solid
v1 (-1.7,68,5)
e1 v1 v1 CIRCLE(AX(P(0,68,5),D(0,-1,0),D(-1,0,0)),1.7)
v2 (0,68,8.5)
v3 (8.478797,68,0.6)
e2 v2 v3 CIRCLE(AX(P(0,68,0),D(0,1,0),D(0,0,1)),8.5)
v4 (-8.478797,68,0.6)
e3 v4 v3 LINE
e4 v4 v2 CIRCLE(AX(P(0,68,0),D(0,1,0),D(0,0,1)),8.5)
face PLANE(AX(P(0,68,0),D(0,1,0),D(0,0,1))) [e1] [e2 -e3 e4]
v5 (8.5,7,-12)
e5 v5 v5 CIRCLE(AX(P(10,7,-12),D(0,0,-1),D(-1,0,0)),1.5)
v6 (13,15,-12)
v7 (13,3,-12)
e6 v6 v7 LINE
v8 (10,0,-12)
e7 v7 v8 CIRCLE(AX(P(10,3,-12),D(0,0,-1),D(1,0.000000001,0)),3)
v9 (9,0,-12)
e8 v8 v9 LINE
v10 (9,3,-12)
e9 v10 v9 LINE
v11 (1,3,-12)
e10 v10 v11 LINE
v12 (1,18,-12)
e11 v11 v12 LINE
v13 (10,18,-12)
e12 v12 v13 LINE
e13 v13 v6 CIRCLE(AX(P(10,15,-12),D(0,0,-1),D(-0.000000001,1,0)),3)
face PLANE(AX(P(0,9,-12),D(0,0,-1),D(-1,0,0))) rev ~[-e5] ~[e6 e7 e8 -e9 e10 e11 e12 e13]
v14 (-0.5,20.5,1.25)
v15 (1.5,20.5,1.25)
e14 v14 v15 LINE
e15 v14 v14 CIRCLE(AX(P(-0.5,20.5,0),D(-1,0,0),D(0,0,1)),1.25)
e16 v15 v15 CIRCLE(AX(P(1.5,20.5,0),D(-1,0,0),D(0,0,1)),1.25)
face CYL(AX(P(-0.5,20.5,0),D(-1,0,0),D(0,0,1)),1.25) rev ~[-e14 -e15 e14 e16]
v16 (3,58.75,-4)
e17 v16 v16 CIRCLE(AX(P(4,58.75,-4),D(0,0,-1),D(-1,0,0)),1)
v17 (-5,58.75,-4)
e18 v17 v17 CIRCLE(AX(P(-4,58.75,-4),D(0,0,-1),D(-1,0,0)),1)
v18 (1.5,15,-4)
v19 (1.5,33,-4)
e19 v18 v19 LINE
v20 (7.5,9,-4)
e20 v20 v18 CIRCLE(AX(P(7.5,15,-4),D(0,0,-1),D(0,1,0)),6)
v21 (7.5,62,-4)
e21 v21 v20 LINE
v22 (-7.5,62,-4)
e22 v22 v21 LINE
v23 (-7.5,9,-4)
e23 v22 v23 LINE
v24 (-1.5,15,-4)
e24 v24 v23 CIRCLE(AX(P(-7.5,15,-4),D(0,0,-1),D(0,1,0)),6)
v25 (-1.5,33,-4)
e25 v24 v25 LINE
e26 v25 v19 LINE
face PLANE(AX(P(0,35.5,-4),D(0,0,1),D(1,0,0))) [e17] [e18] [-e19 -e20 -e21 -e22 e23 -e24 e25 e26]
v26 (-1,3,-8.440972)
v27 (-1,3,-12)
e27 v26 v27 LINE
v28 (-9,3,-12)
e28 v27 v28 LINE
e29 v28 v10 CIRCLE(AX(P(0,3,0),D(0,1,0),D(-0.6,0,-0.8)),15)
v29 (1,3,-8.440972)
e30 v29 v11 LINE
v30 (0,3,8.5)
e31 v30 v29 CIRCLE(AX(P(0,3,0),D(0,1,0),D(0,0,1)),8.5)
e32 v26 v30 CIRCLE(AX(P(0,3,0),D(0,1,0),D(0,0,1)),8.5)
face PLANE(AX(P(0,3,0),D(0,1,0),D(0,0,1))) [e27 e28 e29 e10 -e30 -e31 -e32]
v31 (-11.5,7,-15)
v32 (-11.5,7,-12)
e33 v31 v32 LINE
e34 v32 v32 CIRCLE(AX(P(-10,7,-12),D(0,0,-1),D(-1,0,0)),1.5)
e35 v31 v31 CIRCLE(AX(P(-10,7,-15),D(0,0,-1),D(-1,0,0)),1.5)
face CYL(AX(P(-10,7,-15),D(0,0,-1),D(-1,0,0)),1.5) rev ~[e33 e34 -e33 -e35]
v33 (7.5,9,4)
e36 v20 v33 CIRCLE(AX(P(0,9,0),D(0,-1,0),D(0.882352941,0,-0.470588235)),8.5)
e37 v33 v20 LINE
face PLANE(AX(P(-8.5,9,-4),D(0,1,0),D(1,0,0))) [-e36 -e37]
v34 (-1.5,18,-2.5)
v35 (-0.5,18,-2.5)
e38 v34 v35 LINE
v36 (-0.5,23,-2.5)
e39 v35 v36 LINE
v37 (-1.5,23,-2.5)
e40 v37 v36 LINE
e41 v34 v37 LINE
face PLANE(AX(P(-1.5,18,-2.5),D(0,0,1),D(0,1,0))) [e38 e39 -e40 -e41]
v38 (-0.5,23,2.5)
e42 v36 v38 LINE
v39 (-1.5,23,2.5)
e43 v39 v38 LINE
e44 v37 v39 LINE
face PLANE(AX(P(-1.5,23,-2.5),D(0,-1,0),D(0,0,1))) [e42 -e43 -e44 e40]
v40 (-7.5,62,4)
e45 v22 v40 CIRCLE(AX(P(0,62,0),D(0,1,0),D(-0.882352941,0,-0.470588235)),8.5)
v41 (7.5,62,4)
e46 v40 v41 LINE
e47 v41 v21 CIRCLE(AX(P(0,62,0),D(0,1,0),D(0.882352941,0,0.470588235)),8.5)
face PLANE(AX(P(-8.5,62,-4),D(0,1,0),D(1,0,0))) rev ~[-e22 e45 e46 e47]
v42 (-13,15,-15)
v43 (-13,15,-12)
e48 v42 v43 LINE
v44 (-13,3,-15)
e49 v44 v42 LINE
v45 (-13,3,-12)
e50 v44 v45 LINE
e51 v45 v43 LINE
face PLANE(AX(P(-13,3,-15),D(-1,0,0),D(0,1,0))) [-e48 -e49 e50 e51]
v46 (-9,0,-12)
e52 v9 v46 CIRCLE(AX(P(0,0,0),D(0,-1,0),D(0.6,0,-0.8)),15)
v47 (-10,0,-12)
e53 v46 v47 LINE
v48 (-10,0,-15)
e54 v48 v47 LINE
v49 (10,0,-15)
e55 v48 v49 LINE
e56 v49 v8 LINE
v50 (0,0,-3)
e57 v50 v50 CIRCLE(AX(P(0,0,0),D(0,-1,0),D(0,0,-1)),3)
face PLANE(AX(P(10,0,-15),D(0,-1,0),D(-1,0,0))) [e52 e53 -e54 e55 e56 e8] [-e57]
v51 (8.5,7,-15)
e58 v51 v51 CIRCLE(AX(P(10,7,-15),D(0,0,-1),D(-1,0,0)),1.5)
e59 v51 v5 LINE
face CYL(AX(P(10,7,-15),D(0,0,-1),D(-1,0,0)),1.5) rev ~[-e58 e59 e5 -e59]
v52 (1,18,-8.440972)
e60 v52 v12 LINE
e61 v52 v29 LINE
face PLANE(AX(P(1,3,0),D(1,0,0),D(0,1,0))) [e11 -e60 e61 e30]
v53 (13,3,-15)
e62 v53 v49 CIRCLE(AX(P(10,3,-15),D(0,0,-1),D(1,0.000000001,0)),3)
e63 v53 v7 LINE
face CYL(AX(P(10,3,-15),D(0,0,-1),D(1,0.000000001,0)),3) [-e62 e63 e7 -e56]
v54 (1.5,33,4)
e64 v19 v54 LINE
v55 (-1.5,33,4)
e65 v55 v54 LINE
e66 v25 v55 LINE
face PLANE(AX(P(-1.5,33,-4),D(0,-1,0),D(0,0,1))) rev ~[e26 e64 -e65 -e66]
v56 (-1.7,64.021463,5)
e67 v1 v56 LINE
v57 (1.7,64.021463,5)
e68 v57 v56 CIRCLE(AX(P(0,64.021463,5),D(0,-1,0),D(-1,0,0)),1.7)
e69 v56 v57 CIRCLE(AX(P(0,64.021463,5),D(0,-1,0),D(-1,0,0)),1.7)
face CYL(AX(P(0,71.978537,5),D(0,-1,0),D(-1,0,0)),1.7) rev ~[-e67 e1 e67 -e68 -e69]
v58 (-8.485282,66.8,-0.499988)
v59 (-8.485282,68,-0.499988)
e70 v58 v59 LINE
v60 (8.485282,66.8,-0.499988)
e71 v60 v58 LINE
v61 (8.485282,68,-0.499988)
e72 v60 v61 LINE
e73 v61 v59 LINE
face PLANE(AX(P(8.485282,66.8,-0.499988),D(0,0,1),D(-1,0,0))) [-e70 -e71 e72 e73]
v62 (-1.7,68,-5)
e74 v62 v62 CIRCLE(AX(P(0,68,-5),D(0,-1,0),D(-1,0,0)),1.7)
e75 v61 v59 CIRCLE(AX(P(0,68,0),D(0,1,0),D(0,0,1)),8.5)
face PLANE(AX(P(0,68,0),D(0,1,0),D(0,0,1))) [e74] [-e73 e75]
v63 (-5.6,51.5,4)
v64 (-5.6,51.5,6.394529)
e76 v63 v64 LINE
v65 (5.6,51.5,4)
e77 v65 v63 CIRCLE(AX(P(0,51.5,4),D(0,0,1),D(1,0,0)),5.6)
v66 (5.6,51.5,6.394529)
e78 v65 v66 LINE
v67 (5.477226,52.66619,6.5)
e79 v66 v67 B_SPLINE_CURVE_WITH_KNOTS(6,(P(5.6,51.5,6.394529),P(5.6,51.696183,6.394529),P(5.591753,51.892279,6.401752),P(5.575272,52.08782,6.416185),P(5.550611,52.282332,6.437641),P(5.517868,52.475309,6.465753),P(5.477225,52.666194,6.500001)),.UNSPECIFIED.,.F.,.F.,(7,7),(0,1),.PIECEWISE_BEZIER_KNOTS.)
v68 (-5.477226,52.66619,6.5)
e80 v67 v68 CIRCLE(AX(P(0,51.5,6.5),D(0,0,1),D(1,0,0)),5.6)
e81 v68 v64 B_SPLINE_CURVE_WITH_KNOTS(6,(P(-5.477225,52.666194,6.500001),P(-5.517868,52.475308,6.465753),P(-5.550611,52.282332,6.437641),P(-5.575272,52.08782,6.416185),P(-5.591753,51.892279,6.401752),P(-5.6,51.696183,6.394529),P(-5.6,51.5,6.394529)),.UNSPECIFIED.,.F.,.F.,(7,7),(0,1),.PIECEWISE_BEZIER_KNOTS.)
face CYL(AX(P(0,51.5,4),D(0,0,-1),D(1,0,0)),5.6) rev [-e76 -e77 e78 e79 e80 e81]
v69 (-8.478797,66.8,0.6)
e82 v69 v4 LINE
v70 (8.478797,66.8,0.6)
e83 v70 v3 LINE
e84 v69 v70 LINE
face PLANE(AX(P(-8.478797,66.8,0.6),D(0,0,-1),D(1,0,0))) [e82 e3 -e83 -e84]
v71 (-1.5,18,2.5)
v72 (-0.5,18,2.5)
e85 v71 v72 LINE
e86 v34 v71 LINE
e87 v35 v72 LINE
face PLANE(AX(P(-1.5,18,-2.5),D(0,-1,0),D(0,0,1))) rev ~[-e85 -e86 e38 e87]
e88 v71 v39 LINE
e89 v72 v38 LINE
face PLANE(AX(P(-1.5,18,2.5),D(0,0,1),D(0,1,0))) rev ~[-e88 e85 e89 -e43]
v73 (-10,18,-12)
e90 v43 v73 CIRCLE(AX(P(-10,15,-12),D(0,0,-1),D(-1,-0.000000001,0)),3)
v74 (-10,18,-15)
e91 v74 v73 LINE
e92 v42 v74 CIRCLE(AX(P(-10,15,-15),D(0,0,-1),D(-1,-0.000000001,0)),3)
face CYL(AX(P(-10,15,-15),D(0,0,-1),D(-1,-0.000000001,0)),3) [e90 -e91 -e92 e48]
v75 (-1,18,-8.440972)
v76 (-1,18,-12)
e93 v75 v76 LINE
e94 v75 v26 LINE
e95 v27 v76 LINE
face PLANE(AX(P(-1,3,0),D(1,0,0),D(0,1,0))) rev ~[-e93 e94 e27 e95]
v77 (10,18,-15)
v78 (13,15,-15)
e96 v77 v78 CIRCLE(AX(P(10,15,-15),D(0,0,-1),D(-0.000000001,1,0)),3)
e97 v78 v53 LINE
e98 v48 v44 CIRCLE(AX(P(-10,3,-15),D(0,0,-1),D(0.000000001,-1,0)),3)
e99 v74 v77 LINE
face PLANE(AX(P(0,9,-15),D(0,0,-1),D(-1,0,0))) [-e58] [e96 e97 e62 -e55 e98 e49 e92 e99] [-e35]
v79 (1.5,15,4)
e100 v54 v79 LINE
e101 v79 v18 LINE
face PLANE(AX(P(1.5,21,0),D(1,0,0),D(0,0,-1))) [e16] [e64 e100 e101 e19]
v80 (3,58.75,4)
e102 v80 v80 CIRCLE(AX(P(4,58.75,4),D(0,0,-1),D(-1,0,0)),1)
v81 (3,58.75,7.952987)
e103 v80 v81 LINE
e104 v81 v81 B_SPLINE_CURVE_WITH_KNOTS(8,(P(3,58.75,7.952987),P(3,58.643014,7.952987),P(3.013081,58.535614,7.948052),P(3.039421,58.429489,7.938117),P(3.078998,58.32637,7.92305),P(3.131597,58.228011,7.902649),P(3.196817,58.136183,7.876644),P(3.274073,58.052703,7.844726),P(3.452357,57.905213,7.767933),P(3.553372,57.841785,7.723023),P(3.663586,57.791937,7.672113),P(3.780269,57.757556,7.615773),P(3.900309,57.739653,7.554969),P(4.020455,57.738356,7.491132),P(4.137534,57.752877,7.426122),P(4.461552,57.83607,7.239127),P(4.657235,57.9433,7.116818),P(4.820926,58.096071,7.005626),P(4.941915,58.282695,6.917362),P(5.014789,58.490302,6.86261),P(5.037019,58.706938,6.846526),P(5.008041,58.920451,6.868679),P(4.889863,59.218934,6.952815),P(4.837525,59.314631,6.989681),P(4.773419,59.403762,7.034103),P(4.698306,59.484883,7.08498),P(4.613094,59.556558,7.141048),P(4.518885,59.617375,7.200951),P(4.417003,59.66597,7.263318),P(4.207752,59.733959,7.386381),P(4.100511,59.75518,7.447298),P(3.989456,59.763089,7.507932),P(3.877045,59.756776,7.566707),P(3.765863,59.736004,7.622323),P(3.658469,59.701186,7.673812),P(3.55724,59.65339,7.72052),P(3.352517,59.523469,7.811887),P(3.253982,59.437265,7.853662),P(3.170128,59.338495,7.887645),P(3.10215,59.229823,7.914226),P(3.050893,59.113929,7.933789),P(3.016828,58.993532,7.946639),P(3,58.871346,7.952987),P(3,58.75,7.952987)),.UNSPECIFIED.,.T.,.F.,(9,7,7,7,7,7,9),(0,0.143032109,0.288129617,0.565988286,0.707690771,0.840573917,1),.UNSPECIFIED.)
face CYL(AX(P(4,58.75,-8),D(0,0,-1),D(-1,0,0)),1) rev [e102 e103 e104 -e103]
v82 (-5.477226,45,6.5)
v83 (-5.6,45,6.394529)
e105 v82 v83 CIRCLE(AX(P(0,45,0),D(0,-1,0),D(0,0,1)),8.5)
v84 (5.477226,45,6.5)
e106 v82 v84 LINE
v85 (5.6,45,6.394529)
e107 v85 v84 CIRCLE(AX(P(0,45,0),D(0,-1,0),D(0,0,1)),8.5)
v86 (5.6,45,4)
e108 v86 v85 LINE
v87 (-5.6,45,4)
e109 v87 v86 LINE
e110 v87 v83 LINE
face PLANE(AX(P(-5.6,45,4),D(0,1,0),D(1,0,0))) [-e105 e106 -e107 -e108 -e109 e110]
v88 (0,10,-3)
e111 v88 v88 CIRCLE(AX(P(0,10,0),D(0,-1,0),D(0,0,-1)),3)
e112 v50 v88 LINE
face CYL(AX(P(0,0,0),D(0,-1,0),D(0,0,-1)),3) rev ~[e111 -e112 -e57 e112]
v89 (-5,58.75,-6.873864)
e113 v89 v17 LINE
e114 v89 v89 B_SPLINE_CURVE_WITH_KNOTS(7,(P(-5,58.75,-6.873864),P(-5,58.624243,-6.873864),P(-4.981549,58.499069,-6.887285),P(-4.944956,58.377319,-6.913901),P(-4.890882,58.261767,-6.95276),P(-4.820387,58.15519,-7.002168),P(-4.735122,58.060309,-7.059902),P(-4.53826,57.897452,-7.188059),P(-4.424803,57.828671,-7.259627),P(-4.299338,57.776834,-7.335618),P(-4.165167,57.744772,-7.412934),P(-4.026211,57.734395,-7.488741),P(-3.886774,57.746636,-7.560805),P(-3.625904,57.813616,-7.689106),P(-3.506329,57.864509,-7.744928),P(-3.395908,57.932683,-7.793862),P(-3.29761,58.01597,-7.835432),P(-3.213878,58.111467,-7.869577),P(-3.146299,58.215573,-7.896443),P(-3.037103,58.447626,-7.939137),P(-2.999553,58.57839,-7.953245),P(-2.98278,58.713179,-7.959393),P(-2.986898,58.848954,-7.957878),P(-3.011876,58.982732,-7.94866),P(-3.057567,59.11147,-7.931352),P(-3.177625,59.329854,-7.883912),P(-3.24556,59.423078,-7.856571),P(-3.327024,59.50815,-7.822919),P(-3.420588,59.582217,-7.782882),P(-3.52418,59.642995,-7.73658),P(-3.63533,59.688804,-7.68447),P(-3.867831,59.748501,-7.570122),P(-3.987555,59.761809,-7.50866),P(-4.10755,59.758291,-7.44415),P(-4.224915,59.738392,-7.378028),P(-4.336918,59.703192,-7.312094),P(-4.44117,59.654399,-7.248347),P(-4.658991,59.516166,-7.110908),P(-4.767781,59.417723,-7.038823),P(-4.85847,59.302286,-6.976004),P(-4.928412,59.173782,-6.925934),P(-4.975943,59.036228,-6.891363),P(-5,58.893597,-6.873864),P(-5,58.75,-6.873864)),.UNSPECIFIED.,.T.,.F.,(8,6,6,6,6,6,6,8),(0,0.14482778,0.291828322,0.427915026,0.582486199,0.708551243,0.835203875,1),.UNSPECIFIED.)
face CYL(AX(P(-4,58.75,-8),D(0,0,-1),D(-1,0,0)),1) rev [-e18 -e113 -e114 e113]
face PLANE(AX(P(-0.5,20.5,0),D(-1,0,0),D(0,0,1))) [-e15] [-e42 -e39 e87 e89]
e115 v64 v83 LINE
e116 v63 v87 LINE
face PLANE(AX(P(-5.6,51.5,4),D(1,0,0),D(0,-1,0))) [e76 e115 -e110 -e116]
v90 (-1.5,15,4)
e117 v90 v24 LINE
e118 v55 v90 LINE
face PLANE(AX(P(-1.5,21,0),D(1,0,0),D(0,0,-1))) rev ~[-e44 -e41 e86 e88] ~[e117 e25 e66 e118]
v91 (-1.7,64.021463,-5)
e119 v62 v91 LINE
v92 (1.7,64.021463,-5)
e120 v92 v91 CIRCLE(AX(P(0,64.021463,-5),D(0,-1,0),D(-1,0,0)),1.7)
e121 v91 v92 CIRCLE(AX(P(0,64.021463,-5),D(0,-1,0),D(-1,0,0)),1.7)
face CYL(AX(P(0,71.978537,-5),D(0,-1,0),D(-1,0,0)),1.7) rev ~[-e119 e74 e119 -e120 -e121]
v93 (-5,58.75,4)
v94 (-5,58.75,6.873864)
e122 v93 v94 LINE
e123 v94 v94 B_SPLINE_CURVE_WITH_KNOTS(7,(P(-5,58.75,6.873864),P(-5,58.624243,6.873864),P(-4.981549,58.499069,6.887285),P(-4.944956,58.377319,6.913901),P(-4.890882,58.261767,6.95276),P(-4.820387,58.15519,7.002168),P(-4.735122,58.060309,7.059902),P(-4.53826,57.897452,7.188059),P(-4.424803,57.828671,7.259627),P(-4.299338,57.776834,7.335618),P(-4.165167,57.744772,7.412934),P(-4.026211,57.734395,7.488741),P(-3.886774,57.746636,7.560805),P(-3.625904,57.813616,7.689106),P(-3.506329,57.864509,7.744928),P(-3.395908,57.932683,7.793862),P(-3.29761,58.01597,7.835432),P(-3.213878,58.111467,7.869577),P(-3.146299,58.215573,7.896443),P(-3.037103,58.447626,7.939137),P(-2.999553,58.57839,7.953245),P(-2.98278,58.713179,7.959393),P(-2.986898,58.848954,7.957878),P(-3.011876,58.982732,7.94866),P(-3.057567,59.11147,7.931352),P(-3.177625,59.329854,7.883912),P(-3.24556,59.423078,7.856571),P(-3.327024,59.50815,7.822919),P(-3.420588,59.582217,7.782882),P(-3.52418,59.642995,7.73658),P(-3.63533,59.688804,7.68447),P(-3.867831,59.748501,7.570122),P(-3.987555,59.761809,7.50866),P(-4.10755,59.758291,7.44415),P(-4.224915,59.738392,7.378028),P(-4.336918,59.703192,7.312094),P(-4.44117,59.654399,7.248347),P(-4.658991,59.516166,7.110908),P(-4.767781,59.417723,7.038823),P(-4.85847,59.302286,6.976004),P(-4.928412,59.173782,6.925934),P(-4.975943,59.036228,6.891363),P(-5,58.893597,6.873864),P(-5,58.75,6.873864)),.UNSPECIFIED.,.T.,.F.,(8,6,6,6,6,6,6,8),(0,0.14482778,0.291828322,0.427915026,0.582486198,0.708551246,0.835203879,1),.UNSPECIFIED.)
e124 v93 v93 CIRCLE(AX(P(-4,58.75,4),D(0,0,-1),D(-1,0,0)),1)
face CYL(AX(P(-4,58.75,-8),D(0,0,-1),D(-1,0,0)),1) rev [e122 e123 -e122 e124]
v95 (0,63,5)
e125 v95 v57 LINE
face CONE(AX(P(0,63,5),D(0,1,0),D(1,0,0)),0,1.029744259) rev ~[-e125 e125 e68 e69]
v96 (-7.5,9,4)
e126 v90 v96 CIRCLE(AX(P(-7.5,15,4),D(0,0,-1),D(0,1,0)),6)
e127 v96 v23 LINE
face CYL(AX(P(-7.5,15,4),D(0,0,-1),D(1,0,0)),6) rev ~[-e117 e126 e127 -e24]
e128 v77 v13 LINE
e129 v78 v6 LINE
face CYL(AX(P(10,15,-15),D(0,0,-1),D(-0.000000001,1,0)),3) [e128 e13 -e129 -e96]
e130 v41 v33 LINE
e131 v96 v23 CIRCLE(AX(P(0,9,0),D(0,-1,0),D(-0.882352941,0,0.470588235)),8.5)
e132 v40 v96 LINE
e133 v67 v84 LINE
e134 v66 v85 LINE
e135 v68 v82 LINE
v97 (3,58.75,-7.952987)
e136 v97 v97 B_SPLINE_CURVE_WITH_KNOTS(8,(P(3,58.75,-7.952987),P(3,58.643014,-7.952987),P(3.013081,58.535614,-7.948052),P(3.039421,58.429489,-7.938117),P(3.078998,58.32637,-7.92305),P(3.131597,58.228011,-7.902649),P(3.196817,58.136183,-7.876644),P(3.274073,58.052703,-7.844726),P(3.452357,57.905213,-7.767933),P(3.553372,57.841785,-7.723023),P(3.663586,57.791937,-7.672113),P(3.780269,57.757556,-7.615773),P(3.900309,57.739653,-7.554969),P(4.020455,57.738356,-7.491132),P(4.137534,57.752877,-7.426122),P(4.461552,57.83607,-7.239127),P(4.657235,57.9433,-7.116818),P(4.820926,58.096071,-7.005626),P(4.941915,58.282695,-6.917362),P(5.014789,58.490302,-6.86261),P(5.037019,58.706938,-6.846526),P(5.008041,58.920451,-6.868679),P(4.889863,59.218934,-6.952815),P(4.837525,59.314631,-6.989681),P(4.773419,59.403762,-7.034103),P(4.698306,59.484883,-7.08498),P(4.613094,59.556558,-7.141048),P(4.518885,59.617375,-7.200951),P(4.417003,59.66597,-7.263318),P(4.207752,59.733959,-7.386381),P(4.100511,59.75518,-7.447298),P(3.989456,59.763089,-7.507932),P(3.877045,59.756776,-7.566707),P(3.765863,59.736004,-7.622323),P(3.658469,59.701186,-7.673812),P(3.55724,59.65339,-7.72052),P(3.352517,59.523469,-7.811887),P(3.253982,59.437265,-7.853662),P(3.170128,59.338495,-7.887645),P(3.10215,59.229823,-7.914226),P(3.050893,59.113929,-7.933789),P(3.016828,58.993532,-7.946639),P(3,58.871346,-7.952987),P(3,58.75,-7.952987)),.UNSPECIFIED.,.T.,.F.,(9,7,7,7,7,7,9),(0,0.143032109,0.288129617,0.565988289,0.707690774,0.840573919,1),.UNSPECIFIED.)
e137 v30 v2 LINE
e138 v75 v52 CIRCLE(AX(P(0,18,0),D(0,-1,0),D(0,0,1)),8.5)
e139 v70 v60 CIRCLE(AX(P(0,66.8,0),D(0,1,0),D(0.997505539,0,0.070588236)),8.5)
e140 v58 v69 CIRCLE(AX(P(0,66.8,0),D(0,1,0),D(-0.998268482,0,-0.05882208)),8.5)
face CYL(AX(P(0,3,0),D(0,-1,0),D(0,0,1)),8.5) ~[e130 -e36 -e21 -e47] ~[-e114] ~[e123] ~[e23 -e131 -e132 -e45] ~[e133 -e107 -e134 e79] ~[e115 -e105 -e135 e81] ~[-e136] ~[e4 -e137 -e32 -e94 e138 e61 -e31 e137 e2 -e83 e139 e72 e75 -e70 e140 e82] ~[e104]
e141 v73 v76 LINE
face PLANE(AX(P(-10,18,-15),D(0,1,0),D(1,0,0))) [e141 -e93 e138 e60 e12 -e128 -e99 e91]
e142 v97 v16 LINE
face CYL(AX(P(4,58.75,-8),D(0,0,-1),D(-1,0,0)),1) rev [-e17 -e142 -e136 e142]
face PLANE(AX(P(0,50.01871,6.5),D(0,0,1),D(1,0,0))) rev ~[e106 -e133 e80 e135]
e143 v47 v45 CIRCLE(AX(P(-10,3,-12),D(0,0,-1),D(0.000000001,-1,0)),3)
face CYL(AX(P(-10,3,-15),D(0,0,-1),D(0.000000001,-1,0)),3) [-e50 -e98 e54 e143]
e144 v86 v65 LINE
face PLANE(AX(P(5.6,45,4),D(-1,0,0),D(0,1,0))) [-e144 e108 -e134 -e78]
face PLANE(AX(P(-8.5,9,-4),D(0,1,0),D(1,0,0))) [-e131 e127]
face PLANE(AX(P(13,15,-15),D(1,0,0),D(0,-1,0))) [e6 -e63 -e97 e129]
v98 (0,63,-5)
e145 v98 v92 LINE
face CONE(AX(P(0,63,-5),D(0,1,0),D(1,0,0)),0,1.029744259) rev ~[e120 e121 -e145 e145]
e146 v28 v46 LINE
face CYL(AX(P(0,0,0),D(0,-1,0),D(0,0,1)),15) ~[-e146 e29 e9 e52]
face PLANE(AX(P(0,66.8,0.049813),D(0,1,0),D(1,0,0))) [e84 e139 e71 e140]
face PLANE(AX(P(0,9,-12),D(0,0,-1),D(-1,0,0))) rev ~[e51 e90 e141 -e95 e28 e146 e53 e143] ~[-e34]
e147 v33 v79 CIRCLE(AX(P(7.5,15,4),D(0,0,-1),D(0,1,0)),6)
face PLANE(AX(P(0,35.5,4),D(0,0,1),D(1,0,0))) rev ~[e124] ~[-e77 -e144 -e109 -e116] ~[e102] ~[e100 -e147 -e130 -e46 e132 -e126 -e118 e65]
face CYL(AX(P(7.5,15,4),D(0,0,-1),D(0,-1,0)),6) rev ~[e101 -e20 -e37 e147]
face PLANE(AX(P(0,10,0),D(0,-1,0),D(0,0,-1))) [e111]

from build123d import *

# Parameters (mm, degrees)
CROQUIS1_R                   = 15
SALIENTE_EXTRUIR1_DEPTH      = 3
CROQUIS2_R                   = 8.5
SALIENTE_EXTRUIR2_DEPTH      = 65
CORTAR_EXTRUIR1_DEPTH        = 4
CORTAR_EXTRUIR1_DEPTH_BACK   = 4
CROQUIS3_W                   = 17
CROQUIS3_H                   = 53
CORTAR_EXTRUIR2_DEPTH        = 8
CORTAR_EXTRUIR2_DEPTH_BACK   = 8
CROQUIS4_R                   = 1
CUT_EXTRUDE9_DEPTH           = 2.5
CROQUIS5_W                   = 2
CROQUIS5_H                   = 15
SALIENTE_EXTRUIR3_DEPTH      = 15
CROQUIS6_R                   = 1.5
SALIENTE_EXTRUIR4_DEPTH      = 3
SALIENTE_EXTRUIR5_DEPTH      = 1.5
SALIENTE_EXTRUIR5_DEPTH_BACK = 1.5
REDONDEO2_R                  = 6
CROQUIS8_R                   = 3
CORTAR_EXTRUIR3_DEPTH        = 10
SKETCH1_W                    = 5
SKETCH1_H                    = 5
CUT_EXTRUDE1_DEPTH           = 1
SKETCH2_R                    = 1.25
CUT_EXTRUDE2_DEPTH           = 3
CUT_EXTRUDE10_START          = -1.2
CUT_EXTRUDE10_DEPTH          = 1.2
M3_CLEARANCE_HOLE1_D         = 3.4
M3_CLEARANCE_HOLE1_DEPTH     = 3.978536948
M3_CLEARANCE_HOLE1_TIP       = 1.021463052


with BuildPart() as part:
    # Croquis1 → Saliente-Extruir1 (new body)
    with BuildSketch(Plane(origin=(0, 0, 0), x_dir=(1, 0, 0), z_dir=(0, 1, 0))):
        Circle(CROQUIS1_R)
    extrude(amount=SALIENTE_EXTRUIR1_DEPTH)

    # Croquis2 → Saliente-Extruir2 (add)
    with BuildSketch(Plane(origin=(0, 3, 0), x_dir=(1, 0, 0), z_dir=(0, 1, 0))):
        Circle(CROQUIS2_R)
    extrude(amount=SALIENTE_EXTRUIR2_DEPTH)

    # Croquis3 → Cortar-Extruir1 (cut, two sides: drawn at the far end of the back side and taken through both)
    with BuildSketch(Plane.XY.offset(-CORTAR_EXTRUIR1_DEPTH_BACK)):
        with Locations((0, 35.5)):
            Rectangle(CROQUIS3_W, CROQUIS3_H)
    extrude(amount=CORTAR_EXTRUIR1_DEPTH + CORTAR_EXTRUIR1_DEPTH_BACK, mode=Mode.SUBTRACT)

    # Croquis4 → Cortar-Extruir2 (cut, two sides: drawn at the far end of the back side and taken through both)
    with BuildSketch(Plane.XY.offset(-CORTAR_EXTRUIR2_DEPTH_BACK)):
        with Locations((-4, 58.75)):
            Circle(CROQUIS4_R)
        with Locations((4, 58.75)):
            Circle(CROQUIS4_R)
    extrude(amount=CORTAR_EXTRUIR2_DEPTH + CORTAR_EXTRUIR2_DEPTH_BACK, mode=Mode.SUBTRACT)

    # Sketch11 → Cut-Extrude9 (cut)
    with BuildSketch(Plane(origin=(0, 0, 4), x_dir=(-1, 0, 0), z_dir=(0, 0, -1))):
        with BuildLine():
            Line((5.6, 51.5), (5.6, 45))
            Line((5.6, 45), (-5.6, 45))
            Line((-5.6, 45), (-5.6, 51.5))
            ThreePointArc((-5.6, 51.5), (0, 57.1), (5.6, 51.5))
        make_face()
    extrude(amount=-CUT_EXTRUDE9_DEPTH, mode=Mode.SUBTRACT)

    # Croquis5 → Saliente-Extruir3 (add)
    with BuildSketch(Plane.XY):
        with Locations((0, 10.5)):
            Rectangle(CROQUIS5_W, CROQUIS5_H)
    extrude(amount=-SALIENTE_EXTRUIR3_DEPTH)

    # Croquis6 → Saliente-Extruir4 (add)
    with BuildSketch(Plane(origin=(0, 0, -15), x_dir=(-1, 0, 0), z_dir=(0, 0, -1))):
        with BuildLine():
            Line((-10, 0), (10, 0))
            ThreePointArc((10, 0), (12.121320344, 0.878679656), (13, 3))
            Line((13, 3), (13, 15))
            ThreePointArc((13, 15), (12.121320344, 17.121320344), (10, 18))
            Line((10, 18), (-10, 18))
            ThreePointArc((-10, 18), (-12.121320344, 17.121320344), (-13, 15))
            Line((-13, 15), (-13, 3))
            ThreePointArc((-13, 3), (-12.121320344, 0.878679656), (-10, 0))
        make_face()
        with Locations((-10, 7)):
            Circle(CROQUIS6_R, mode=Mode.SUBTRACT)
        with Locations((10, 7)):
            Circle(CROQUIS6_R, mode=Mode.SUBTRACT)
    extrude(amount=-SALIENTE_EXTRUIR4_DEPTH)

    # Croquis7 → Saliente-Extruir5 (add, two sides: drawn at the far end of the back side and taken through both)
    with BuildSketch(Plane(origin=(0, 0, 0), x_dir=(0, 0, -1), z_dir=(1, 0, 0)).offset(-SALIENTE_EXTRUIR5_DEPTH_BACK)):
        Polygon((0, 9), (4, 9), (4, 33), (-4, 33), (-4, 9), align=None)
    extrude(amount=SALIENTE_EXTRUIR5_DEPTH + SALIENTE_EXTRUIR5_DEPTH_BACK)

    # Redondeo2
    redondeo2_edges = [part.edges().sort_by_distance(p)[0] for p in [
        (-1.5, 9, 0),
        (1.5, 9, 0),
    ]]
    fillet(redondeo2_edges, radius=REDONDEO2_R)

    # Croquis8 → Cortar-Extruir3 (cut)
    with BuildSketch(Plane.XZ):
        Circle(CROQUIS8_R)
    extrude(amount=-CORTAR_EXTRUIR3_DEPTH, mode=Mode.SUBTRACT)

    # Sketch1 → Cut-Extrude1 (cut)
    with BuildSketch(Plane.ZY.offset(1.5)):
        with Locations((0, 20.5)):
            Rectangle(SKETCH1_W, SKETCH1_H)
    extrude(amount=-CUT_EXTRUDE1_DEPTH, mode=Mode.SUBTRACT)

    # Sketch2 → Cut-Extrude2 (cut)
    with BuildSketch(Plane.ZY.offset(0.5)):
        with Locations((0, 20.5)):
            Circle(SKETCH2_R)
    extrude(amount=-CUT_EXTRUDE2_DEPTH, mode=Mode.SUBTRACT)

    # Sketch12 → Cut-Extrude10 (cut)
    with BuildSketch(Plane(origin=(0, 68, 0), x_dir=(1, 0, 0), z_dir=(0, 1, 0)).offset(CUT_EXTRUDE10_START)):
        with BuildLine():
            Line((0, 0.499987676), (-8.4852821, 0.499987676))
            ThreePointArc((-8.4852821, 0.499987676), (-8.499852285, -0.050111177), (-8.478797084, -0.6))
            Line((-8.478797084, -0.6), (0, -0.6))
            Line((0, -0.6), (8.478797084, -0.6))
            ThreePointArc((8.478797084, -0.6), (8.499852285, -0.050111177), (8.4852821, 0.499987676))
            Line((8.4852821, 0.499987676), (0, 0.499987676))
        make_face()
    extrude(amount=CUT_EXTRUDE10_DEPTH, mode=Mode.SUBTRACT)

    # M3 Clearance Hole1
    with Locations(Plane(origin=(0, 68, 0), x_dir=(1, 0, 0), z_dir=(0, 1, 0))):
        with Locations((0, 5), (0, -5)):
            Hole(M3_CLEARANCE_HOLE1_D / 2, depth=M3_CLEARANCE_HOLE1_DEPTH)
            with Locations((0, 0, -(M3_CLEARANCE_HOLE1_DEPTH + M3_CLEARANCE_HOLE1_TIP / 2))):  # 118° drill point
                Cone(0, M3_CLEARANCE_HOLE1_D / 2, M3_CLEARANCE_HOLE1_TIP, mode=Mode.SUBTRACT)


solid = part.part
